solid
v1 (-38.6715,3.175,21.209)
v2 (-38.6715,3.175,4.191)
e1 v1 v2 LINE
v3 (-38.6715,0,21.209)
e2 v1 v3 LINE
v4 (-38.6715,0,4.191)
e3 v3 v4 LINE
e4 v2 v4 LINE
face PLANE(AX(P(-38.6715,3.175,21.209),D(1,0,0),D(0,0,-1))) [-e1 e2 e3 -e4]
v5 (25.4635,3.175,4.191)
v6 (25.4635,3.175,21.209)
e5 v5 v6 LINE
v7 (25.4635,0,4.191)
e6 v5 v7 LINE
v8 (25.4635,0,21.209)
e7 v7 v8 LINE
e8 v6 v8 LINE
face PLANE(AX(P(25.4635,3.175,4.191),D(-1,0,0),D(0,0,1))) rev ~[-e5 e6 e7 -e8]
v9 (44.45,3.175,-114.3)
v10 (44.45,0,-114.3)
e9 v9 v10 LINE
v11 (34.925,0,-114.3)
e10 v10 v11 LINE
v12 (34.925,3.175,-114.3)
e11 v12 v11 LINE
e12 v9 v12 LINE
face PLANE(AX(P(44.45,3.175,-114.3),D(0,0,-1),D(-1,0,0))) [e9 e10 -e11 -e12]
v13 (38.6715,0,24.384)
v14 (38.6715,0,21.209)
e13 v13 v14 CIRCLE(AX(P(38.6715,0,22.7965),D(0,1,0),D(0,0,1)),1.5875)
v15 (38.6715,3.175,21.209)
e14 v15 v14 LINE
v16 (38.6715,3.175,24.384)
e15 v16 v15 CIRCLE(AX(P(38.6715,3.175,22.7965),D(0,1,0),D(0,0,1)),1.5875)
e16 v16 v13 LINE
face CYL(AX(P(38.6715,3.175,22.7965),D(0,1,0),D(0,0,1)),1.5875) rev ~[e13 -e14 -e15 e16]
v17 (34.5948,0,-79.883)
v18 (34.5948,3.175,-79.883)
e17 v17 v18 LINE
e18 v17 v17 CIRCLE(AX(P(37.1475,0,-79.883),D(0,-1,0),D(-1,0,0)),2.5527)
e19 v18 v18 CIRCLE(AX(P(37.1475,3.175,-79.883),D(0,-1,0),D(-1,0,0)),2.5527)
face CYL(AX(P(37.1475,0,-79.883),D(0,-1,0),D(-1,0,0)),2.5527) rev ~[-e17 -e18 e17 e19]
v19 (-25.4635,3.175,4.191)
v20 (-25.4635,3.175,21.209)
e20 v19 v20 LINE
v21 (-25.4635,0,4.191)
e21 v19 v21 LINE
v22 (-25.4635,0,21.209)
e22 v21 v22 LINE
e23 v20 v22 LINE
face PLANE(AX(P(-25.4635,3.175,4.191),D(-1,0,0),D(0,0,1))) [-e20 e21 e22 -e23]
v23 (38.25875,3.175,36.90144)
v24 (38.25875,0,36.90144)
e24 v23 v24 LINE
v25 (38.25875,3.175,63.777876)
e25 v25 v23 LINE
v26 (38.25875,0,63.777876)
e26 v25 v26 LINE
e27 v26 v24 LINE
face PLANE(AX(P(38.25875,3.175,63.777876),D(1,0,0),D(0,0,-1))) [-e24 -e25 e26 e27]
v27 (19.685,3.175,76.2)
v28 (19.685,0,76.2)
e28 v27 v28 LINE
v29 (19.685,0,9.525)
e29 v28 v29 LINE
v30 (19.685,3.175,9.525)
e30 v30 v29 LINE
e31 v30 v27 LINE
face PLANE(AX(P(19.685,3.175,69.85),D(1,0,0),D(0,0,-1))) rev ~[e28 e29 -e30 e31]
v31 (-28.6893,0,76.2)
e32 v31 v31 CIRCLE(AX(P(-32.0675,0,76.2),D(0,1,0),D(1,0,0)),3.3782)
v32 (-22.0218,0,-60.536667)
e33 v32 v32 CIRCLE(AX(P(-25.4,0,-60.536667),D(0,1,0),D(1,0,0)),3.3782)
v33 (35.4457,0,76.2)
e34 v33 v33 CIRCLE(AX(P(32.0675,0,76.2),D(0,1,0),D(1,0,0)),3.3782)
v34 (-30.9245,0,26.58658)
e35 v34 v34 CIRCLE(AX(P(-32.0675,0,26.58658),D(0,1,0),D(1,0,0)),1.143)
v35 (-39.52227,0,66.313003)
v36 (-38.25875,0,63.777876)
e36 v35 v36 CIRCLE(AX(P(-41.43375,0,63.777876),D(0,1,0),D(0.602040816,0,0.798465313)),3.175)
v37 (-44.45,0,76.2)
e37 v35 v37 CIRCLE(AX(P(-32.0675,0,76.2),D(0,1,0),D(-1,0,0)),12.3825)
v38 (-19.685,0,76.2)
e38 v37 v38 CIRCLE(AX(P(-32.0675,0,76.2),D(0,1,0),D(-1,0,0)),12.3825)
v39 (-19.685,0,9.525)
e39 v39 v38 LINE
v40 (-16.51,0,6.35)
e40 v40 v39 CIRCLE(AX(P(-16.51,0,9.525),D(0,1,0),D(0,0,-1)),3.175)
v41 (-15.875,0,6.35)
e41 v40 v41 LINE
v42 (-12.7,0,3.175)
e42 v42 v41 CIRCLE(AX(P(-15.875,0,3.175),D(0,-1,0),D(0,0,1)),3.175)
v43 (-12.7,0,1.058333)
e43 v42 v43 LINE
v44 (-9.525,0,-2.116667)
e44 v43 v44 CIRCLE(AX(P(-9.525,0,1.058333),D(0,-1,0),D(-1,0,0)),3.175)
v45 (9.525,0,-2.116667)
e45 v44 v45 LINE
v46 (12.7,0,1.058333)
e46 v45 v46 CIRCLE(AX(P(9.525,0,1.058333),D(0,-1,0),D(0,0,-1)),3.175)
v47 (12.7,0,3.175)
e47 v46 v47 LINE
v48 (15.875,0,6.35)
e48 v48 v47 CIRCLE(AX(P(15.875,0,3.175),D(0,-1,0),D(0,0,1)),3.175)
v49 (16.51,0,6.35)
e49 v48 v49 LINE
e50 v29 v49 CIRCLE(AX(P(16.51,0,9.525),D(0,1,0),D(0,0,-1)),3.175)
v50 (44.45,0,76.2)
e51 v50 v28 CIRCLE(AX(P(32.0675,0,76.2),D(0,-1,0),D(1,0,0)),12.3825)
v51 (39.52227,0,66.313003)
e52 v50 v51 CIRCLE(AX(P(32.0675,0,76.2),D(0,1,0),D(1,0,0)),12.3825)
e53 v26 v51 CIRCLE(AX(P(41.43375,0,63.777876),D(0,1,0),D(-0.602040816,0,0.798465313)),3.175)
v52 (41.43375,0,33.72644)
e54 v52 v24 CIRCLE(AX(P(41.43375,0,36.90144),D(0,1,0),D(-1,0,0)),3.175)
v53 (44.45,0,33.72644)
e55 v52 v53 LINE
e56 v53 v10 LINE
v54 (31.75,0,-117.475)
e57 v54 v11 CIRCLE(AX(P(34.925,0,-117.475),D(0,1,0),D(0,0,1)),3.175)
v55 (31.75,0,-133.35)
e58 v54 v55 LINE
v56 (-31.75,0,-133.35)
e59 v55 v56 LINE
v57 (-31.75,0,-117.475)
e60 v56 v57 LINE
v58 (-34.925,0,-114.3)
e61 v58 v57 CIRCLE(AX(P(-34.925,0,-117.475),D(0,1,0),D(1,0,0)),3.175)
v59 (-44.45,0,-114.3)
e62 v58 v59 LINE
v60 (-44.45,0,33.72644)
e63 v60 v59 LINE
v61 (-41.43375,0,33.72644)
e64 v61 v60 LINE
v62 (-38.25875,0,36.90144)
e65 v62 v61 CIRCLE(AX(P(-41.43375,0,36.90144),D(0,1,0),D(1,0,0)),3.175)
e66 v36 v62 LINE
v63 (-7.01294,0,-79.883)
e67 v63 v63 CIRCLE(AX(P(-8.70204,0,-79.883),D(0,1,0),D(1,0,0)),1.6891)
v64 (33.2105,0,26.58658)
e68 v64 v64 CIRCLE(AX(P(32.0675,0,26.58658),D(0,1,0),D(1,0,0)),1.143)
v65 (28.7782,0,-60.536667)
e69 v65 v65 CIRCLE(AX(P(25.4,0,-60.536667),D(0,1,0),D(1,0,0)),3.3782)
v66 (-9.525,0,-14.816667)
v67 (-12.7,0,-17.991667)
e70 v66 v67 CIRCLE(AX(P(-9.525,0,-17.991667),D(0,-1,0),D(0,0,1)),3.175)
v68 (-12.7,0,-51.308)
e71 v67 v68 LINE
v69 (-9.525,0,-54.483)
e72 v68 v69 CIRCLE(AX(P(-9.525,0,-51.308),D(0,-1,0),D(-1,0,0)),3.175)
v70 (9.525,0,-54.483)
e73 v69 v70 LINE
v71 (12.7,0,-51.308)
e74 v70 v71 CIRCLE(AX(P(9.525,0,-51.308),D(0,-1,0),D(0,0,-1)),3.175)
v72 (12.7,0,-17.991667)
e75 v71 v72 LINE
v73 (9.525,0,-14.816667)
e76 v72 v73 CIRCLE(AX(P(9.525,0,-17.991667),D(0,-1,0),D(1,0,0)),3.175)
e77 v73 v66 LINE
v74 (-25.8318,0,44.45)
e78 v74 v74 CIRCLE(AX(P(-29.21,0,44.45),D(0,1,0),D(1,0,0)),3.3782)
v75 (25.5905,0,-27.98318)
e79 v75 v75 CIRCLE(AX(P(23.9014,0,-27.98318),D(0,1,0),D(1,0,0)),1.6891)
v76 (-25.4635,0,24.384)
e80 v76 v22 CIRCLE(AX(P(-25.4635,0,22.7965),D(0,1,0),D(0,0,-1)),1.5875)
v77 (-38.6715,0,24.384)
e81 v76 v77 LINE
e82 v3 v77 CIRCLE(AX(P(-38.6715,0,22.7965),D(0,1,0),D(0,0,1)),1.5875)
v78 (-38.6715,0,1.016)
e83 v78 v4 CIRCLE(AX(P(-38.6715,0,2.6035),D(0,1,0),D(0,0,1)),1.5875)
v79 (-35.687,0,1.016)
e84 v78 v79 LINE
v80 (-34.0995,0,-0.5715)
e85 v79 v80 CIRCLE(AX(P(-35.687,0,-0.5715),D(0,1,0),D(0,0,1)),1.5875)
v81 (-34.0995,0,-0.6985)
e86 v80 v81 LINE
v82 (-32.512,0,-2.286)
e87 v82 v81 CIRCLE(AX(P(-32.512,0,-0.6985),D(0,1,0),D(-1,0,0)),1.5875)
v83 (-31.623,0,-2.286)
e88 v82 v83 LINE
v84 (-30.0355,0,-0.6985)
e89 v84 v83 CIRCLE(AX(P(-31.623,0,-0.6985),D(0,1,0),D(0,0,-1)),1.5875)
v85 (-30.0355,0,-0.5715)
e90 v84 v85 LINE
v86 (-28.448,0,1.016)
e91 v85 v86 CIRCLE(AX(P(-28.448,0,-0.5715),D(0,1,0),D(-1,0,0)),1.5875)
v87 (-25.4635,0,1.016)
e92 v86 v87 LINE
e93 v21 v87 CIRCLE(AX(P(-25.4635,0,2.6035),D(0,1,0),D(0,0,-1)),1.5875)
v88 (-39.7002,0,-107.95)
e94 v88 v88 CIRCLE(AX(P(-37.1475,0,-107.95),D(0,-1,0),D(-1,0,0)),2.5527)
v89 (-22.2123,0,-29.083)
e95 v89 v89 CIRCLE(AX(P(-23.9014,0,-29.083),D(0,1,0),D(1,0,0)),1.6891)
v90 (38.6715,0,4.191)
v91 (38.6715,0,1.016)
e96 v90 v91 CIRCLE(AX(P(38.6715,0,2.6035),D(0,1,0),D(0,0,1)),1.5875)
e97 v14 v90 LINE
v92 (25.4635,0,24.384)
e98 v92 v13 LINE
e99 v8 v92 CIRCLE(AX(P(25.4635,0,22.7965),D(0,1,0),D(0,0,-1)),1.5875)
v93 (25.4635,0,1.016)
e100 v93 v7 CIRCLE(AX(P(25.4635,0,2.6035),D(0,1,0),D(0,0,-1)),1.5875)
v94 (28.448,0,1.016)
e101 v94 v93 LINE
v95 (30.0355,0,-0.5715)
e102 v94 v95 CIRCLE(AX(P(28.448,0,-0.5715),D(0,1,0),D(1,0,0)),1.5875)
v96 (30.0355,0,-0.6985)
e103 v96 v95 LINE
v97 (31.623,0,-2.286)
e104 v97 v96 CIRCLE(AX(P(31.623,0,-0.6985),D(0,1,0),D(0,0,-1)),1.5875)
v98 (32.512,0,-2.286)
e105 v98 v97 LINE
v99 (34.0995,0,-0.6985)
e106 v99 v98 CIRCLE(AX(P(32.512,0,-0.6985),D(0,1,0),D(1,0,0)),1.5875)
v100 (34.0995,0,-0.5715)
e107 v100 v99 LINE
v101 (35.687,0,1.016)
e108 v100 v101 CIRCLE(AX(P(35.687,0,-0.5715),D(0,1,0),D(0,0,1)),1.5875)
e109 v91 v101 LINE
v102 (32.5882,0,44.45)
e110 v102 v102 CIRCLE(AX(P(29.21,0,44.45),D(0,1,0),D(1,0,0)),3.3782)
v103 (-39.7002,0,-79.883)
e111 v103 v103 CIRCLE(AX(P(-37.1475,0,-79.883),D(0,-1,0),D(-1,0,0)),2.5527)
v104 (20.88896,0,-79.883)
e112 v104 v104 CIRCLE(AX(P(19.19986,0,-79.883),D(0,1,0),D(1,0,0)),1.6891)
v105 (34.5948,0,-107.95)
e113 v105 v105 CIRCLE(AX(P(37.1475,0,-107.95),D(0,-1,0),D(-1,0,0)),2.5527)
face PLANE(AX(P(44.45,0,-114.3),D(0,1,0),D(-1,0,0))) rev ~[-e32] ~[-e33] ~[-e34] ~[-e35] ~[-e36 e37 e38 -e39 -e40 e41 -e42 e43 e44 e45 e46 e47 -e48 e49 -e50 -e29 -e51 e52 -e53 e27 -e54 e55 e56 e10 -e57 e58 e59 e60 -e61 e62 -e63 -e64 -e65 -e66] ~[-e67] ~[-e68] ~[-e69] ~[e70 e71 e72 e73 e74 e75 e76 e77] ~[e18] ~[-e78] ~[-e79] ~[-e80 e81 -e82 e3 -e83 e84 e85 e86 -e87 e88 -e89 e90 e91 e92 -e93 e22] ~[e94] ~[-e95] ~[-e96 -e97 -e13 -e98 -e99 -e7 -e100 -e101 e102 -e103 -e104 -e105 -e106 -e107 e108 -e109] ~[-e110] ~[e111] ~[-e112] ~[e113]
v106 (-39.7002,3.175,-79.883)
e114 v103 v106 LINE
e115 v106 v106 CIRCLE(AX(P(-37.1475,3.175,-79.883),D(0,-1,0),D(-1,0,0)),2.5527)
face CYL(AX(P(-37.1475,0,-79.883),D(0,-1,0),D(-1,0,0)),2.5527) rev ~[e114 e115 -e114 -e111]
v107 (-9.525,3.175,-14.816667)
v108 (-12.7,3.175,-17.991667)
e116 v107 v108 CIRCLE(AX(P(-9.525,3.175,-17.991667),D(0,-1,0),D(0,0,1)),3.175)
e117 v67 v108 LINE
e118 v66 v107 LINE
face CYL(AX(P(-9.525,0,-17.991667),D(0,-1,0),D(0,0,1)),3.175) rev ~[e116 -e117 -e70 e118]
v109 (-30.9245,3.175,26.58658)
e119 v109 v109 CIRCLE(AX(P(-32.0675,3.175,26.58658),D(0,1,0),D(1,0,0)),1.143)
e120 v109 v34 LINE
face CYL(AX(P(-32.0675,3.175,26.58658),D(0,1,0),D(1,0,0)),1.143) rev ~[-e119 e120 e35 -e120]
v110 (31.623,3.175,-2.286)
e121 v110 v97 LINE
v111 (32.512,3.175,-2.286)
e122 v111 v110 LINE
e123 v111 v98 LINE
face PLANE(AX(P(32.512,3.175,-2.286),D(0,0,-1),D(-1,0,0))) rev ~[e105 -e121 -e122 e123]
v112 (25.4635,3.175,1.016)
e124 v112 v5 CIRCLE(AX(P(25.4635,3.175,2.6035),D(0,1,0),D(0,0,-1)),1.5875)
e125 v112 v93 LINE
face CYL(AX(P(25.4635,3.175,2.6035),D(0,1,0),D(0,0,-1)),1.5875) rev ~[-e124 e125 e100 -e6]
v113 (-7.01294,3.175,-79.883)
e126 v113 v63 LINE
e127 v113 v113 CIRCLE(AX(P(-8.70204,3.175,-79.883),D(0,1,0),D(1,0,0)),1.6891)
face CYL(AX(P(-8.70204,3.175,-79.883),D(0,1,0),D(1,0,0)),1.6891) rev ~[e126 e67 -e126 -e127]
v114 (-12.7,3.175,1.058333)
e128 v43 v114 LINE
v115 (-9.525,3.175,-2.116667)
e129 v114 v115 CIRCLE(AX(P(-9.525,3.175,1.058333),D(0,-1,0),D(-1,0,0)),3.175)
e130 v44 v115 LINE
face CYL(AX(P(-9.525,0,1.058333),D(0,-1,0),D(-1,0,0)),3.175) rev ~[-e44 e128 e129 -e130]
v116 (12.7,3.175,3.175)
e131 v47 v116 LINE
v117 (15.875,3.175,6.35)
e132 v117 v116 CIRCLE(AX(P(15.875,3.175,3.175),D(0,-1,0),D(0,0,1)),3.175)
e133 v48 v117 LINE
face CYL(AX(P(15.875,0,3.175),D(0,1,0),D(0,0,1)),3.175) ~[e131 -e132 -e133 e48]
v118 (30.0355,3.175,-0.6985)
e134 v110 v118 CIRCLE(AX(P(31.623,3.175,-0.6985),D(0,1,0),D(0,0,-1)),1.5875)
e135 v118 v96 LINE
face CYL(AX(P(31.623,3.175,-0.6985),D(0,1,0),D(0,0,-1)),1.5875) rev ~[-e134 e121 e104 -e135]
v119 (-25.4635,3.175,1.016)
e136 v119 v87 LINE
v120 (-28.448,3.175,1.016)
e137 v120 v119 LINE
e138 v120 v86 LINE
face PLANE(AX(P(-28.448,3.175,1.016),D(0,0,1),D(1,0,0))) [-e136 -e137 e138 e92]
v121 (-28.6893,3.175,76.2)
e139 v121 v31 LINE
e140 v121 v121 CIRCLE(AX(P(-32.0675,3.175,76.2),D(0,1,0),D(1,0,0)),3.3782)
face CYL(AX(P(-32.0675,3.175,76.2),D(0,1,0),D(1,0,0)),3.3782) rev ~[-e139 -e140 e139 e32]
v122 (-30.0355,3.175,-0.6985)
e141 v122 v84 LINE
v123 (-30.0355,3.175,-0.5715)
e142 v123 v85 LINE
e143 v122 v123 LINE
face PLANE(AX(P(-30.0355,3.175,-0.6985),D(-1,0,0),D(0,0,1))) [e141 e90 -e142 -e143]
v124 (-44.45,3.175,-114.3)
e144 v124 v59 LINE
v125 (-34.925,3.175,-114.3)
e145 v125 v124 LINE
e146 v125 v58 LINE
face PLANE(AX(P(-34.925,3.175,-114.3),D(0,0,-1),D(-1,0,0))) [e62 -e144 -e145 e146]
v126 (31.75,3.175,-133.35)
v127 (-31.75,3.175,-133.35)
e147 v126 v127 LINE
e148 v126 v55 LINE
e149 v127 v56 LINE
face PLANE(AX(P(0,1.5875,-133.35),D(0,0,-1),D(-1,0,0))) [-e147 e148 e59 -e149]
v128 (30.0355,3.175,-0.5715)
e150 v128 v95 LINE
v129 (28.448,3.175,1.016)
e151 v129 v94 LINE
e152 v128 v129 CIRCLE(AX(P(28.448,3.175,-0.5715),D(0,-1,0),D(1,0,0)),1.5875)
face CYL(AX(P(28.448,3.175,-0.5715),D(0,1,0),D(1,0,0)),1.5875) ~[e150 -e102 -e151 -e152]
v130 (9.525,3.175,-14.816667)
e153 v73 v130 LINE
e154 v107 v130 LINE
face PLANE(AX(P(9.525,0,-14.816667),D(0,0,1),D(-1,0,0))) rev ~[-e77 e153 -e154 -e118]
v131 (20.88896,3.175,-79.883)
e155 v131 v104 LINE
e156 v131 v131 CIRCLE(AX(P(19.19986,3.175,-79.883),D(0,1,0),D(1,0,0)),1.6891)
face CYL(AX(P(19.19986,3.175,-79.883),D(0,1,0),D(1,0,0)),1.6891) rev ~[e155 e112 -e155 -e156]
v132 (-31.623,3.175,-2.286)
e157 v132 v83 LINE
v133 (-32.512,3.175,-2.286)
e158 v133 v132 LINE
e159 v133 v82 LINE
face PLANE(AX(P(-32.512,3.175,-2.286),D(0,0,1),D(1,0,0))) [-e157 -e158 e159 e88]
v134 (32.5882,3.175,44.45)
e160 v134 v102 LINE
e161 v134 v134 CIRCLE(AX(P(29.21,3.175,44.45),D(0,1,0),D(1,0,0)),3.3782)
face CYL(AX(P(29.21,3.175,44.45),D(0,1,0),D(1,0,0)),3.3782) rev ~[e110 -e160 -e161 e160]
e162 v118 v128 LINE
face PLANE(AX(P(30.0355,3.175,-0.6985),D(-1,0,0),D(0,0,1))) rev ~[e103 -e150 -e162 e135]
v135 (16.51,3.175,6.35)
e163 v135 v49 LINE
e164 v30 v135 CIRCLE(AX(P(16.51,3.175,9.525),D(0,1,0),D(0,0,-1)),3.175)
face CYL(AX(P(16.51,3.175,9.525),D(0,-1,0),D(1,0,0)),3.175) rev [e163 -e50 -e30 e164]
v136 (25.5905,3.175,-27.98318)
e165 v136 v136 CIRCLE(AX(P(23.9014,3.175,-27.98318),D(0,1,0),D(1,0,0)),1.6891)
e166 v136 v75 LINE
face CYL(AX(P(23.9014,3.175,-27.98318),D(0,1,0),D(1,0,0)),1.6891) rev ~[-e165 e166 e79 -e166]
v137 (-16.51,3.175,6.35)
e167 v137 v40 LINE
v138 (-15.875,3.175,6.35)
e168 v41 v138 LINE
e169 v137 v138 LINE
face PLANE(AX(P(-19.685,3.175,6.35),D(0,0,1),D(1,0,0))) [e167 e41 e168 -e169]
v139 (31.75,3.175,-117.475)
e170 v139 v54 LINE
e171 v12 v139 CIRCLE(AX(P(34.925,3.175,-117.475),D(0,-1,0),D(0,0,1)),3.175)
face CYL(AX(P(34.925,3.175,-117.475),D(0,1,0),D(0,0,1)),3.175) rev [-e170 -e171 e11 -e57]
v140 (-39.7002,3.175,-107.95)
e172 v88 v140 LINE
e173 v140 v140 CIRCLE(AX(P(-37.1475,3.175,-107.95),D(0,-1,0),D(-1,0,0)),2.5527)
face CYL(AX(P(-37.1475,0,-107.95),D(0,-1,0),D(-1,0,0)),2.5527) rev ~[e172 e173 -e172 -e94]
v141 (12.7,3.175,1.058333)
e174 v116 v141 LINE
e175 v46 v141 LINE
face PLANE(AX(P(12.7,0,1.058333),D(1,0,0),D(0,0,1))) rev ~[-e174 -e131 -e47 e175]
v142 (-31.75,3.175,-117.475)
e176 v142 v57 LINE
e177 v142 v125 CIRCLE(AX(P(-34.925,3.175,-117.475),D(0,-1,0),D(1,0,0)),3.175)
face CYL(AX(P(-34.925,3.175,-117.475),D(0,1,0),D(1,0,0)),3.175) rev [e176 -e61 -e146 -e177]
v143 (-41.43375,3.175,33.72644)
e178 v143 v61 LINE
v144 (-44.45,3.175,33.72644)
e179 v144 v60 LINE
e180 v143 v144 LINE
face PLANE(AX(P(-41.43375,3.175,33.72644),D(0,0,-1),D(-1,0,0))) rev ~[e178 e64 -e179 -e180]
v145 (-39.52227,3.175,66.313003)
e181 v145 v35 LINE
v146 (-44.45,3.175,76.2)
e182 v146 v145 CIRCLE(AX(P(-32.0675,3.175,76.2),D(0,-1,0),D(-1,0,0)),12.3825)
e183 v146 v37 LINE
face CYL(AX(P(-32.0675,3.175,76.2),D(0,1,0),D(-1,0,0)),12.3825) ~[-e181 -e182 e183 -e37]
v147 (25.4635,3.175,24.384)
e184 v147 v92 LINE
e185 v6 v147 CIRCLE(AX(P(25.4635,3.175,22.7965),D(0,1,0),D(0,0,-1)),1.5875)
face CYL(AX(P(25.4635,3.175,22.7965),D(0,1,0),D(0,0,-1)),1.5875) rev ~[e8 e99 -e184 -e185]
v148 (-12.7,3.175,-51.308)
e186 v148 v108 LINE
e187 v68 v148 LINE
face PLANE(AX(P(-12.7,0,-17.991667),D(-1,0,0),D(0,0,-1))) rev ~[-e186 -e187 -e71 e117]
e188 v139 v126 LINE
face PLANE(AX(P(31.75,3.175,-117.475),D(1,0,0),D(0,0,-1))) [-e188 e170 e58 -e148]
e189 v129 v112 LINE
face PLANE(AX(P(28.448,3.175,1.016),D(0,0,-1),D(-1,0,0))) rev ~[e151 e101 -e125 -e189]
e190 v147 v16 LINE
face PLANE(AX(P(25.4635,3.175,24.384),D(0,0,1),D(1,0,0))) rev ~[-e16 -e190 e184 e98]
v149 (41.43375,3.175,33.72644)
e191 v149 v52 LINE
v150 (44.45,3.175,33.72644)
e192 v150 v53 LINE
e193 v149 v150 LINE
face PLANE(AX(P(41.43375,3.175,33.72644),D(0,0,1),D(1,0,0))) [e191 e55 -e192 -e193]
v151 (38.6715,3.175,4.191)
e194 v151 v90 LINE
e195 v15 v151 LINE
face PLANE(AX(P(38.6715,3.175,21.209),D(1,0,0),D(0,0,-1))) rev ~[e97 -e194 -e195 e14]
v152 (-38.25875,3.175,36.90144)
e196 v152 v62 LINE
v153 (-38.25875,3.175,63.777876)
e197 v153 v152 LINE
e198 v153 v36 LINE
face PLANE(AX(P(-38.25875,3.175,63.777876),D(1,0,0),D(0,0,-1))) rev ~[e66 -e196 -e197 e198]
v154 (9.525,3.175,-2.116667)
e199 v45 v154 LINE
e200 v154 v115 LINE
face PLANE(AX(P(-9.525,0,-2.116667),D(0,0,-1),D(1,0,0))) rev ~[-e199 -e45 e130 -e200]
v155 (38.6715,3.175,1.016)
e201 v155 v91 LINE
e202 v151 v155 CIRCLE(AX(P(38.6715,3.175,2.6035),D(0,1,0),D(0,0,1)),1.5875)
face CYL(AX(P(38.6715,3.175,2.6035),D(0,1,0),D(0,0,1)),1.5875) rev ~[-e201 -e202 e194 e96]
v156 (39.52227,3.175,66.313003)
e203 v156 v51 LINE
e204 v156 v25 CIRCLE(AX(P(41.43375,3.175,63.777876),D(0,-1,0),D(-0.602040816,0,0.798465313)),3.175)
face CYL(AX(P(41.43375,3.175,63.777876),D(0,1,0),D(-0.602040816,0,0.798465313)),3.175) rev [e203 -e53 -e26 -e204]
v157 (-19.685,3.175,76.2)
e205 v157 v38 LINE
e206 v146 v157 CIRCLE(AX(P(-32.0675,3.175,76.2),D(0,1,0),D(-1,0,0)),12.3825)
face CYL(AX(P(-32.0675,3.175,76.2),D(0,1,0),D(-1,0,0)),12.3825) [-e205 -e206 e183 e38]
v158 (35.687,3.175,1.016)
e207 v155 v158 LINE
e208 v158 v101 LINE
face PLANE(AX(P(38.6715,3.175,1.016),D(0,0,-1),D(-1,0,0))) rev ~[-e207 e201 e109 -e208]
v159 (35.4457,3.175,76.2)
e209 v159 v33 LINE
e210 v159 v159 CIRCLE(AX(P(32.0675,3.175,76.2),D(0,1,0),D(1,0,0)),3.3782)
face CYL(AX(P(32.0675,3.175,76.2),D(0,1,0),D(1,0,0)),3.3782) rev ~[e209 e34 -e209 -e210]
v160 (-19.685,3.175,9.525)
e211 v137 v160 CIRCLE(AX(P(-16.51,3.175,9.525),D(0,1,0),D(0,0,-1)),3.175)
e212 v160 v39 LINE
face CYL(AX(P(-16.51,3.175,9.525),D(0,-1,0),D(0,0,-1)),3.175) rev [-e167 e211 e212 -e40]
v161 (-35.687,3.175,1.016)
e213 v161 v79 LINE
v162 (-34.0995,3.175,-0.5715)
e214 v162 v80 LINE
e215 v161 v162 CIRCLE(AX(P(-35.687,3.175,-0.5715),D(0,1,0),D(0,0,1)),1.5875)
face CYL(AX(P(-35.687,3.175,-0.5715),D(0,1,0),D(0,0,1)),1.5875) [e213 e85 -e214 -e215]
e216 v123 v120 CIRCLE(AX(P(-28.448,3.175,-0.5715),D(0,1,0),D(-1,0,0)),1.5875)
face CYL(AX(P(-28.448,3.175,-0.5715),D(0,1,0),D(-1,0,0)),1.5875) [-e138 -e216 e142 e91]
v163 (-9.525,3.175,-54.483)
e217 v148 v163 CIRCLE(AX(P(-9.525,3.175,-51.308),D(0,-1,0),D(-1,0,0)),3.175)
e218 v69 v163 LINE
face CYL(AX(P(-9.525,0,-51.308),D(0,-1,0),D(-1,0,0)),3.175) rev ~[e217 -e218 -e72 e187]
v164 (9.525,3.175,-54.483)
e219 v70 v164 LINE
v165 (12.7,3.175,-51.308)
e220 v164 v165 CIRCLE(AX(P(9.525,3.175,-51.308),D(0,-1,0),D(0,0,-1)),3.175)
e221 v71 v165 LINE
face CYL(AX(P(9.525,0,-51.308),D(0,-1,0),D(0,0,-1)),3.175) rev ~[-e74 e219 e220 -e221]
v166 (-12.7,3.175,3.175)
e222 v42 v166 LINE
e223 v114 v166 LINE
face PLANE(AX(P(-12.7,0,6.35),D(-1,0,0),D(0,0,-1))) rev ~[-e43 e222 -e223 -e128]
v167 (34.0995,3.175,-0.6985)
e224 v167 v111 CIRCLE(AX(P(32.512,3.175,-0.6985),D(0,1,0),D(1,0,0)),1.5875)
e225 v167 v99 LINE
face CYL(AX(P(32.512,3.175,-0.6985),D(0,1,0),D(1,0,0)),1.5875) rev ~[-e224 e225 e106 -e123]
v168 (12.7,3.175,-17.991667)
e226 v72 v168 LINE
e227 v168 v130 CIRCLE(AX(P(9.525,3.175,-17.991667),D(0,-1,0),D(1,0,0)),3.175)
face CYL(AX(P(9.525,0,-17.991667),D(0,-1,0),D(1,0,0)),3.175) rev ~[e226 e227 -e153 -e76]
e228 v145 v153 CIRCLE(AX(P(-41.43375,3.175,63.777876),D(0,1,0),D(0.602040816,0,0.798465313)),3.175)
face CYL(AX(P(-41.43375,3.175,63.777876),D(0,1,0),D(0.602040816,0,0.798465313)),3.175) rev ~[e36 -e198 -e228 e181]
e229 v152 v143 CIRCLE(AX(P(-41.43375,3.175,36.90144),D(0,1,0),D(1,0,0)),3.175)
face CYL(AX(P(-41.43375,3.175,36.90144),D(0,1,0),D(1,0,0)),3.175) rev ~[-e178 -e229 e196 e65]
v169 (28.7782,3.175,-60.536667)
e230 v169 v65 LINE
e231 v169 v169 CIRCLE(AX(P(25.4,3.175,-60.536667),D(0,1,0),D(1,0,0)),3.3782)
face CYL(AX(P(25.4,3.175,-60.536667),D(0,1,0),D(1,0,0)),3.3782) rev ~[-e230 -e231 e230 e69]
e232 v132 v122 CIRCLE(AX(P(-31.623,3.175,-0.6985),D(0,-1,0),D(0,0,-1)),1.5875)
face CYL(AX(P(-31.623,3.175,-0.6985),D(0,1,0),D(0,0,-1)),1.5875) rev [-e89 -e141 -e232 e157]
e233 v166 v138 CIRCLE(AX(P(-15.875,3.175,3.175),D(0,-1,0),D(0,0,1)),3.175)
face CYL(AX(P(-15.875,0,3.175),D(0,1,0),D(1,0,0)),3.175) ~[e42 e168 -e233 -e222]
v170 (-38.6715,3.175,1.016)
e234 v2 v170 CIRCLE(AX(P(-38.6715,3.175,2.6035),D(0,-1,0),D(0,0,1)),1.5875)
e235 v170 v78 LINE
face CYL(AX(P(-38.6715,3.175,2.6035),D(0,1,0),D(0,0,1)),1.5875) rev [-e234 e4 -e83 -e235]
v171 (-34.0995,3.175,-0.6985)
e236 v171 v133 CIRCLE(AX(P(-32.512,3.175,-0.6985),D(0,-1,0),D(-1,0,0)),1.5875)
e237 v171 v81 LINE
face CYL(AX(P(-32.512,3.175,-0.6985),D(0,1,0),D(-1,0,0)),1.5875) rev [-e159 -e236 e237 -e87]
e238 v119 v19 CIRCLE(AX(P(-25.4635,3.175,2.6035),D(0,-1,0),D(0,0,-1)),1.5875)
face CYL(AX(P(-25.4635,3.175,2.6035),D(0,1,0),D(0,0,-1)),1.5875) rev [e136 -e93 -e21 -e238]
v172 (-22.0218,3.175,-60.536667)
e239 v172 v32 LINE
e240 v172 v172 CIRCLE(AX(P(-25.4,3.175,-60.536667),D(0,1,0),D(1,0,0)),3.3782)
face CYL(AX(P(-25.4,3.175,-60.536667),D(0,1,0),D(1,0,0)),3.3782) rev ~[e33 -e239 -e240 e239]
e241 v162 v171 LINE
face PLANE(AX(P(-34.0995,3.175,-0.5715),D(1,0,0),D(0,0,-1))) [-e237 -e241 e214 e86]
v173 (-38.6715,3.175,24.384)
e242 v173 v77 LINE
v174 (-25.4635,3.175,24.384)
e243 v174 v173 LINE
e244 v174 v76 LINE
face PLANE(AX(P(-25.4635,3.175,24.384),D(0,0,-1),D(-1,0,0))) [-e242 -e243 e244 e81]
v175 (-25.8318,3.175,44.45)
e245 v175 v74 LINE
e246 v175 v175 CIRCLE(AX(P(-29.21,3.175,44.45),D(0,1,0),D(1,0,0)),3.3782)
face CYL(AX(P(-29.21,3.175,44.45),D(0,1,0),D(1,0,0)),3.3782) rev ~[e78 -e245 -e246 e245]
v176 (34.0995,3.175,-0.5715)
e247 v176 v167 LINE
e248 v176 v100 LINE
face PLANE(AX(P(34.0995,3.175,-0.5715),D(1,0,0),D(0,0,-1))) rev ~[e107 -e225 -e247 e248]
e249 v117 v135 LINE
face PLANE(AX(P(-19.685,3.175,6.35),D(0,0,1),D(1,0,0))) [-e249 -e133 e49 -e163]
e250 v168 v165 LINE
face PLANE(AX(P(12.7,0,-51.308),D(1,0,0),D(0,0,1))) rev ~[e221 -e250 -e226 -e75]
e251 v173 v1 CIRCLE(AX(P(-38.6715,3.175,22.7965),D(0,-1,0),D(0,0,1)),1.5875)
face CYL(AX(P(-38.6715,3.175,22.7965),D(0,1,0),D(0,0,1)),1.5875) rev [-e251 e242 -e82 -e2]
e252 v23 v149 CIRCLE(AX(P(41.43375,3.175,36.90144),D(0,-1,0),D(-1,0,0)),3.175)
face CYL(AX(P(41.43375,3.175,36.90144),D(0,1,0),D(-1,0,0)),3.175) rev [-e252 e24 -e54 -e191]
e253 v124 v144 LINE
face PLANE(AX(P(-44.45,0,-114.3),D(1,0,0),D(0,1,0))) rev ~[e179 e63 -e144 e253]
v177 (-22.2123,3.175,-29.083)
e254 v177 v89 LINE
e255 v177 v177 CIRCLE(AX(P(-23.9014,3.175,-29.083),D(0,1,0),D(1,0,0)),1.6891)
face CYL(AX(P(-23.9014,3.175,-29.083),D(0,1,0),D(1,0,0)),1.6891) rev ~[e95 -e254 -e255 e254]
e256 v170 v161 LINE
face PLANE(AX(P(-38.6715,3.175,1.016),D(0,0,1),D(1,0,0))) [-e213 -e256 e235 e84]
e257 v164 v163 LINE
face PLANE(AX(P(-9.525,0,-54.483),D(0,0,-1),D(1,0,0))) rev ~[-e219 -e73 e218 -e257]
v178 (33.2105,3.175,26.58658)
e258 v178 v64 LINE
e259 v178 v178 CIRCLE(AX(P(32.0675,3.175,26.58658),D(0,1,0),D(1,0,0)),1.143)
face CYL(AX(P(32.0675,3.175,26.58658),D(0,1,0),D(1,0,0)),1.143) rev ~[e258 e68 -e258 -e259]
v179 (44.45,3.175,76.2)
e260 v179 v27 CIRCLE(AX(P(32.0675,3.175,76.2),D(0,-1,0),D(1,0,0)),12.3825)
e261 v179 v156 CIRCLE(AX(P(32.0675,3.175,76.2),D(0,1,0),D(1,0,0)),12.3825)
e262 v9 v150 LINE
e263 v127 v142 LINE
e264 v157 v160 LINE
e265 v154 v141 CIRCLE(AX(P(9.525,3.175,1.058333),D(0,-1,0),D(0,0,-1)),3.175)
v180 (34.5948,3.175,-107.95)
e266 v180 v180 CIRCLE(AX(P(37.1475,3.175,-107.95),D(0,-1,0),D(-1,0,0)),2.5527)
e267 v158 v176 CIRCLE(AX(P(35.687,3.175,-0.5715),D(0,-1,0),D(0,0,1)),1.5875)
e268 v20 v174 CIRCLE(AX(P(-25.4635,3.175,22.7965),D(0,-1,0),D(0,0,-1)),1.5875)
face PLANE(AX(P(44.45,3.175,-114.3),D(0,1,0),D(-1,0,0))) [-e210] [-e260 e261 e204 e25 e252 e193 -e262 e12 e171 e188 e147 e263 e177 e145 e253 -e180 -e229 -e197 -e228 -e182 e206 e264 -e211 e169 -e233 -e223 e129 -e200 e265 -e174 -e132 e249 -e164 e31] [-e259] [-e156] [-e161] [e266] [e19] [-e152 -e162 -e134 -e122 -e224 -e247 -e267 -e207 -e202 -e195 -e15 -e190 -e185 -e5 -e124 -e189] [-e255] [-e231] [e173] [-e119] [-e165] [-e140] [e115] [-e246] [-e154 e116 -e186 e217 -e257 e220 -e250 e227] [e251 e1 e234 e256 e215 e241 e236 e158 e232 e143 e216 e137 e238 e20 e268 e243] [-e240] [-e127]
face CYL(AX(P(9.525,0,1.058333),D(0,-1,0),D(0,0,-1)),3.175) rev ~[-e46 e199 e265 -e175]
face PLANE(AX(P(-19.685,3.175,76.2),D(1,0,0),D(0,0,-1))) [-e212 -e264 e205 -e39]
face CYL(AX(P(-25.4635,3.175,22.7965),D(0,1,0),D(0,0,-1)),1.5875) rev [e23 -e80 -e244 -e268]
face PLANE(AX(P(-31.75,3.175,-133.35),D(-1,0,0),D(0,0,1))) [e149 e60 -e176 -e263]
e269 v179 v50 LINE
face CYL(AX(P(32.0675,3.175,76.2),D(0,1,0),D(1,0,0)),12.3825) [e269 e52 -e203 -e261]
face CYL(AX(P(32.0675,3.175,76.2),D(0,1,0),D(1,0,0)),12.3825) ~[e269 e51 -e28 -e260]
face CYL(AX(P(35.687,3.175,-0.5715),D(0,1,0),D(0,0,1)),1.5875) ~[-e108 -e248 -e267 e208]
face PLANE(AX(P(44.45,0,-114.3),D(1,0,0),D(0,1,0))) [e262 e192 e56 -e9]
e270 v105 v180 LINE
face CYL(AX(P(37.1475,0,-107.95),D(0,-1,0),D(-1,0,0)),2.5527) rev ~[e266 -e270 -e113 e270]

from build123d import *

# Parameters (mm, degrees)
SKETCH1_W           = 88.9
SKETCH1_H           = 228.6
BOSS_EXTRUDE1_DEPTH = 3.175
SKETCH12_R          = 3.3782
SKETCH12_W          = 39.37
SKETCH12_H          = 63.5
CUT_EXTRUDE13_DEPTH = 4.175
SKETCH14_R          = 2.5527
CUT_EXTRUDE15_DEPTH = 4.175
SKETCH15_W          = 88.9
SKETCH15_H          = 57.15
CUT_EXTRUDE16_DEPTH = 4.175
FILLET1_R           = 3.175
SKETCH18_R          = 1.6891
CUT_EXTRUDE18_DEPTH = 4.175
SKETCH16_R          = 3.3782
BOSS_EXTRUDE2_DEPTH = 3.175
SKETCH19_R          = 3.3782
CUT_EXTRUDE19_DEPTH = 4.175
SKETCH20_R          = 1.143
CUT_EXTRUDE20_DEPTH = 4.175
SKETCH21_W          = 88.9
SKETCH21_H          = 3.175
BOSS_EXTRUDE3_DEPTH = 19.05
CUT_EXTRUDE21_DEPTH = 4.175
CUT_EXTRUDE22_DEPTH = 4.175


with BuildPart() as part:
    # Sketch1 → Boss-Extrude1 (new body)
    with BuildSketch(Plane(origin=(0, 0, 0), x_dir=(1, 0, 0), z_dir=(0, 1, 0))):
        Rectangle(SKETCH1_W, SKETCH1_H)
    extrude(amount=BOSS_EXTRUDE1_DEPTH)

    # Sketch12 → Cut-Extrude13 (cut, through all)
    with BuildSketch(Plane(origin=(0, 3.175, 0), x_dir=(1, 0, 0), z_dir=(0, 1, 0))):
        with Locations((29.21, -44.45)):
            Circle(SKETCH12_R)
        with Locations((-29.21, -44.45)):
            Circle(SKETCH12_R)
        with Locations((0, -38.1)):
            Rectangle(SKETCH12_W, SKETCH12_H)
    extrude(amount=-CUT_EXTRUDE13_DEPTH, mode=Mode.SUBTRACT)

    # Sketch14 → Cut-Extrude15 (cut, through all)
    with BuildSketch(Plane(origin=(0, 0, 0), x_dir=(-1, 0, 0), z_dir=(0, -1, 0))):
        with Locations((-37.1475, 107.95)):
            Circle(SKETCH14_R)
        with Locations((-37.1475, 79.883)):
            Circle(SKETCH14_R)
        with Locations((37.1475, 107.95)):
            Circle(SKETCH14_R)
        with Locations((37.1475, 79.883)):
            Circle(SKETCH14_R)
    extrude(amount=-CUT_EXTRUDE15_DEPTH, mode=Mode.SUBTRACT)

    # Sketch15 → Cut-Extrude16 (cut, through all)
    with BuildSketch(Plane.XZ):
        with Locations((0, 85.725)):
            Rectangle(SKETCH15_W, SKETCH15_H)
        with BuildLine():
            Line((12.7, -51.308), (12.7, -17.991666667))
            ThreePointArc((12.7, -17.991666667), (11.77006403, -15.746602636), (9.525, -14.816666667))
            Line((9.525, -14.816666667), (-9.525, -14.816666667))
            ThreePointArc((-9.525, -14.816666667), (-11.77006403, -15.746602636), (-12.7, -17.991666667))
            Line((-12.7, -17.991666667), (-12.7, -51.308))
            ThreePointArc((-12.7, -51.308), (-11.77006403, -53.55306403), (-9.525, -54.483))
            Line((-9.525, -54.483), (9.525, -54.483))
            ThreePointArc((9.525, -54.483), (11.77006403, -53.55306403), (12.7, -51.308))
        make_face()
        with BuildLine():
            Line((12.7, 6.35), (-12.7, 6.35))
            Line((-12.7, 6.35), (-12.7, 1.058333333))
            ThreePointArc((-12.7, 1.058333333), (-11.77006403, -1.186730697), (-9.525, -2.116666667))
            Line((-9.525, -2.116666667), (9.525, -2.116666667))
            ThreePointArc((9.525, -2.116666667), (11.77006403, -1.186730697), (12.7, 1.058333333))
            Line((12.7, 1.058333333), (12.7, 6.35))
        make_face()
    extrude(amount=-CUT_EXTRUDE16_DEPTH, mode=Mode.SUBTRACT)

    # Fillet1
    fillet1_edges = [part.edges().sort_by_distance(p)[0] for p in [
        (19.685, 1.5875, 6.35),
        (-19.685, 1.5875, 6.35),
        (-12.7, 1.5875, 6.35),
        (12.7, 1.5875, 6.35),
    ]]
    fillet(fillet1_edges, radius=FILLET1_R)

    # Sketch18 → Cut-Extrude18 (cut, through all)
    with BuildSketch(Plane(origin=(0, 3.175, 0), x_dir=(1, 0, 0), z_dir=(0, 1, 0))):
        with Locations((-23.9014, 29.083)):
            Circle(SKETCH18_R)
        with Locations((23.9014, 27.98318)):
            Circle(SKETCH18_R)
        with Locations((-8.70204, 79.883)):
            Circle(SKETCH18_R)
        with Locations((19.19986, 79.883)):
            Circle(SKETCH18_R)
    extrude(amount=-CUT_EXTRUDE18_DEPTH, mode=Mode.SUBTRACT)

    # Sketch16 → Boss-Extrude2 (add)
    with BuildSketch(Plane(origin=(0, 3.175, 0), x_dir=(1, 0, 0), z_dir=(0, 1, 0))):
        with BuildLine():
            Line((-44.45, -57.15), (-44.45, -76.2))
            ThreePointArc((-44.45, -76.2), (-32.0675, -88.5825), (-19.685, -76.2))
            Line((-19.685, -76.2), (-19.685, -57.15))
            Line((-19.685, -57.15), (-44.45, -57.15))
        make_face()
        with Locations((-32.0675, -76.2)):
            Circle(SKETCH16_R, mode=Mode.SUBTRACT)
        with BuildLine():
            ThreePointArc((44.45, -76.2), (32.0675, -88.5825), (19.685, -76.2))
            Line((19.685, -76.2), (19.685, -57.15))
            Line((19.685, -57.15), (44.45, -57.15))
            Line((44.45, -57.15), (44.45, -76.2))
        make_face()
        with Locations((32.0675, -76.2)):
            Circle(SKETCH16_R, mode=Mode.SUBTRACT)
    extrude(amount=-BOSS_EXTRUDE2_DEPTH)

    # Sketch19 → Cut-Extrude19 (cut, through all)
    with BuildSketch(Plane(origin=(0, 3.175, 0), x_dir=(1, 0, 0), z_dir=(0, 1, 0))):
        with Locations((-25.4, 60.536666667)):
            Circle(SKETCH19_R)
        with Locations((25.4, 60.536666667)):
            Circle(SKETCH19_R)
    extrude(amount=-CUT_EXTRUDE19_DEPTH, mode=Mode.SUBTRACT)

    # Sketch20 → Cut-Extrude20 (cut, through all)
    with BuildSketch(Plane(origin=(0, 3.175, 0), x_dir=(1, 0, 0), z_dir=(0, 1, 0))):
        with Locations((-32.0675, -26.58657951)):
            Circle(SKETCH20_R)
        with Locations((32.0675, -26.58657951)):
            Circle(SKETCH20_R)
        with BuildLine():
            Line((-25.4635, -24.384), (-38.6715, -24.384))
            ThreePointArc((-38.6715, -24.384), (-40.259, -22.7965), (-38.6715, -21.209))
            Line((-38.6715, -21.209), (-38.6715, -4.191))
            ThreePointArc((-38.6715, -4.191), (-40.259, -2.6035), (-38.6715, -1.016))
            Line((-38.6715, -1.016), (-35.687, -1.016))
            ThreePointArc((-35.687, -1.016), (-34.564467985, -0.551032015), (-34.0995, 0.5715))
            Line((-34.0995, 0.5715), (-34.0995, 0.6985))
            ThreePointArc((-34.0995, 0.6985), (-33.634532015, 1.821032015), (-32.512, 2.286))
            Line((-32.512, 2.286), (-31.623, 2.286))
            ThreePointArc((-31.623, 2.286), (-30.500467985, 1.821032015), (-30.0355, 0.6985))
            Line((-30.0355, 0.6985), (-30.0355, 0.5715))
            ThreePointArc((-30.0355, 0.5715), (-29.570532015, -0.551032015), (-28.448, -1.016))
            Line((-28.448, -1.016), (-25.4635, -1.016))
            ThreePointArc((-25.4635, -1.016), (-23.876, -2.6035), (-25.4635, -4.191))
            Line((-25.4635, -4.191), (-25.4635, -21.209))
            ThreePointArc((-25.4635, -21.209), (-23.876, -22.7965), (-25.4635, -24.384))
        make_face()
        with BuildLine():
            Line((25.4635, -24.384), (38.6715, -24.384))
            ThreePointArc((38.6715, -24.384), (40.259, -22.7965), (38.6715, -21.209))
            Line((38.6715, -21.209), (38.6715, -4.191))
            ThreePointArc((38.6715, -4.191), (40.259, -2.6035), (38.6715, -1.016))
            Line((38.6715, -1.016), (35.687, -1.016))
            ThreePointArc((35.687, -1.016), (34.564467985, -0.551032015), (34.0995, 0.5715))
            Line((34.0995, 0.5715), (34.0995, 0.6985))
            ThreePointArc((34.0995, 0.6985), (33.634532015, 1.821032015), (32.512, 2.286))
            Line((32.512, 2.286), (31.623, 2.286))
            ThreePointArc((31.623, 2.286), (30.500467985, 1.821032015), (30.0355, 0.6985))
            Line((30.0355, 0.6985), (30.0355, 0.5715))
            ThreePointArc((30.0355, 0.5715), (29.570532015, -0.551032015), (28.448, -1.016))
            Line((28.448, -1.016), (25.4635, -1.016))
            ThreePointArc((25.4635, -1.016), (23.876, -2.6035), (25.4635, -4.191))
            Line((25.4635, -4.191), (25.4635, -21.209))
            ThreePointArc((25.4635, -21.209), (23.876, -22.7965), (25.4635, -24.384))
        make_face()
    extrude(amount=-CUT_EXTRUDE20_DEPTH, mode=Mode.SUBTRACT)

    # Sketch21 → Boss-Extrude3 (add)
    with BuildSketch(Plane(origin=(0, 0, -114.3), x_dir=(-1, 0, 0), z_dir=(0, 0, -1))):
        with Locations((0, 1.5875)):
            Rectangle(SKETCH21_W, SKETCH21_H)
    extrude(amount=BOSS_EXTRUDE3_DEPTH)

    # Sketch22 → Cut-Extrude21 (cut, through all)
    with BuildSketch(Plane(origin=(0, 3.175, 0), x_dir=(1, 0, 0), z_dir=(0, 1, 0))):
        with BuildLine():
            Line((-44.45, 133.35), (-31.75, 133.35))
            Line((-31.75, 133.35), (-31.75, 117.475))
            ThreePointArc((-31.75, 117.475), (-32.67993597, 115.22993597), (-34.925, 114.3))
            Line((-34.925, 114.3), (-44.45, 114.3))
            Line((-44.45, 114.3), (-44.45, 133.35))
        make_face()
        with BuildLine():
            Line((44.45, 114.3), (34.925, 114.3))
            ThreePointArc((34.925, 114.3), (32.67993597, 115.22993597), (31.75, 117.475))
            Line((31.75, 117.475), (31.75, 133.35))
            Line((31.75, 133.35), (44.45, 133.35))
            Line((44.45, 133.35), (44.45, 114.3))
        make_face()
    extrude(amount=-CUT_EXTRUDE21_DEPTH, mode=Mode.SUBTRACT)

    # Sketch23 → Cut-Extrude22 (cut, through all)
    with BuildSketch(Plane(origin=(0, 3.175, 0), x_dir=(1, 0, 0), z_dir=(0, 1, 0))):
        with BuildLine():
            Line((-38.25875, -63.777875899), (-38.25875, -36.901440438))
            ThreePointArc((-38.25875, -36.901440438), (-39.18868597, -34.656376407), (-41.43375, -33.726440438))
            Line((-41.43375, -33.726440438), (-44.45, -33.726440438))
            Line((-44.45, -33.726440438), (-44.45, -76.2))
            ThreePointArc((-44.45, -76.2), (-43.149805735, -70.676522306), (-39.522270408, -66.313003266))
            ThreePointArc((-39.522270408, -66.313003266), (-38.592133145, -65.194152231), (-38.25875, -63.777875899))
        make_face()
        with BuildLine():
            Line((41.43375, -33.726440438), (44.45, -33.726440438))
            Line((44.45, -33.726440438), (44.45, -76.2))
            ThreePointArc((44.45, -76.2), (43.149805735, -70.676522306), (39.522270408, -66.313003266))
            ThreePointArc((39.522270408, -66.313003266), (38.592133145, -65.194152231), (38.25875, -63.777875899))
            Line((38.25875, -63.777875899), (38.25875, -36.901440438))
            ThreePointArc((38.25875, -36.901440438), (39.18868597, -34.656376407), (41.43375, -33.726440438))
        make_face()
    extrude(amount=-CUT_EXTRUDE22_DEPTH, mode=Mode.SUBTRACT)


solid = part.part
